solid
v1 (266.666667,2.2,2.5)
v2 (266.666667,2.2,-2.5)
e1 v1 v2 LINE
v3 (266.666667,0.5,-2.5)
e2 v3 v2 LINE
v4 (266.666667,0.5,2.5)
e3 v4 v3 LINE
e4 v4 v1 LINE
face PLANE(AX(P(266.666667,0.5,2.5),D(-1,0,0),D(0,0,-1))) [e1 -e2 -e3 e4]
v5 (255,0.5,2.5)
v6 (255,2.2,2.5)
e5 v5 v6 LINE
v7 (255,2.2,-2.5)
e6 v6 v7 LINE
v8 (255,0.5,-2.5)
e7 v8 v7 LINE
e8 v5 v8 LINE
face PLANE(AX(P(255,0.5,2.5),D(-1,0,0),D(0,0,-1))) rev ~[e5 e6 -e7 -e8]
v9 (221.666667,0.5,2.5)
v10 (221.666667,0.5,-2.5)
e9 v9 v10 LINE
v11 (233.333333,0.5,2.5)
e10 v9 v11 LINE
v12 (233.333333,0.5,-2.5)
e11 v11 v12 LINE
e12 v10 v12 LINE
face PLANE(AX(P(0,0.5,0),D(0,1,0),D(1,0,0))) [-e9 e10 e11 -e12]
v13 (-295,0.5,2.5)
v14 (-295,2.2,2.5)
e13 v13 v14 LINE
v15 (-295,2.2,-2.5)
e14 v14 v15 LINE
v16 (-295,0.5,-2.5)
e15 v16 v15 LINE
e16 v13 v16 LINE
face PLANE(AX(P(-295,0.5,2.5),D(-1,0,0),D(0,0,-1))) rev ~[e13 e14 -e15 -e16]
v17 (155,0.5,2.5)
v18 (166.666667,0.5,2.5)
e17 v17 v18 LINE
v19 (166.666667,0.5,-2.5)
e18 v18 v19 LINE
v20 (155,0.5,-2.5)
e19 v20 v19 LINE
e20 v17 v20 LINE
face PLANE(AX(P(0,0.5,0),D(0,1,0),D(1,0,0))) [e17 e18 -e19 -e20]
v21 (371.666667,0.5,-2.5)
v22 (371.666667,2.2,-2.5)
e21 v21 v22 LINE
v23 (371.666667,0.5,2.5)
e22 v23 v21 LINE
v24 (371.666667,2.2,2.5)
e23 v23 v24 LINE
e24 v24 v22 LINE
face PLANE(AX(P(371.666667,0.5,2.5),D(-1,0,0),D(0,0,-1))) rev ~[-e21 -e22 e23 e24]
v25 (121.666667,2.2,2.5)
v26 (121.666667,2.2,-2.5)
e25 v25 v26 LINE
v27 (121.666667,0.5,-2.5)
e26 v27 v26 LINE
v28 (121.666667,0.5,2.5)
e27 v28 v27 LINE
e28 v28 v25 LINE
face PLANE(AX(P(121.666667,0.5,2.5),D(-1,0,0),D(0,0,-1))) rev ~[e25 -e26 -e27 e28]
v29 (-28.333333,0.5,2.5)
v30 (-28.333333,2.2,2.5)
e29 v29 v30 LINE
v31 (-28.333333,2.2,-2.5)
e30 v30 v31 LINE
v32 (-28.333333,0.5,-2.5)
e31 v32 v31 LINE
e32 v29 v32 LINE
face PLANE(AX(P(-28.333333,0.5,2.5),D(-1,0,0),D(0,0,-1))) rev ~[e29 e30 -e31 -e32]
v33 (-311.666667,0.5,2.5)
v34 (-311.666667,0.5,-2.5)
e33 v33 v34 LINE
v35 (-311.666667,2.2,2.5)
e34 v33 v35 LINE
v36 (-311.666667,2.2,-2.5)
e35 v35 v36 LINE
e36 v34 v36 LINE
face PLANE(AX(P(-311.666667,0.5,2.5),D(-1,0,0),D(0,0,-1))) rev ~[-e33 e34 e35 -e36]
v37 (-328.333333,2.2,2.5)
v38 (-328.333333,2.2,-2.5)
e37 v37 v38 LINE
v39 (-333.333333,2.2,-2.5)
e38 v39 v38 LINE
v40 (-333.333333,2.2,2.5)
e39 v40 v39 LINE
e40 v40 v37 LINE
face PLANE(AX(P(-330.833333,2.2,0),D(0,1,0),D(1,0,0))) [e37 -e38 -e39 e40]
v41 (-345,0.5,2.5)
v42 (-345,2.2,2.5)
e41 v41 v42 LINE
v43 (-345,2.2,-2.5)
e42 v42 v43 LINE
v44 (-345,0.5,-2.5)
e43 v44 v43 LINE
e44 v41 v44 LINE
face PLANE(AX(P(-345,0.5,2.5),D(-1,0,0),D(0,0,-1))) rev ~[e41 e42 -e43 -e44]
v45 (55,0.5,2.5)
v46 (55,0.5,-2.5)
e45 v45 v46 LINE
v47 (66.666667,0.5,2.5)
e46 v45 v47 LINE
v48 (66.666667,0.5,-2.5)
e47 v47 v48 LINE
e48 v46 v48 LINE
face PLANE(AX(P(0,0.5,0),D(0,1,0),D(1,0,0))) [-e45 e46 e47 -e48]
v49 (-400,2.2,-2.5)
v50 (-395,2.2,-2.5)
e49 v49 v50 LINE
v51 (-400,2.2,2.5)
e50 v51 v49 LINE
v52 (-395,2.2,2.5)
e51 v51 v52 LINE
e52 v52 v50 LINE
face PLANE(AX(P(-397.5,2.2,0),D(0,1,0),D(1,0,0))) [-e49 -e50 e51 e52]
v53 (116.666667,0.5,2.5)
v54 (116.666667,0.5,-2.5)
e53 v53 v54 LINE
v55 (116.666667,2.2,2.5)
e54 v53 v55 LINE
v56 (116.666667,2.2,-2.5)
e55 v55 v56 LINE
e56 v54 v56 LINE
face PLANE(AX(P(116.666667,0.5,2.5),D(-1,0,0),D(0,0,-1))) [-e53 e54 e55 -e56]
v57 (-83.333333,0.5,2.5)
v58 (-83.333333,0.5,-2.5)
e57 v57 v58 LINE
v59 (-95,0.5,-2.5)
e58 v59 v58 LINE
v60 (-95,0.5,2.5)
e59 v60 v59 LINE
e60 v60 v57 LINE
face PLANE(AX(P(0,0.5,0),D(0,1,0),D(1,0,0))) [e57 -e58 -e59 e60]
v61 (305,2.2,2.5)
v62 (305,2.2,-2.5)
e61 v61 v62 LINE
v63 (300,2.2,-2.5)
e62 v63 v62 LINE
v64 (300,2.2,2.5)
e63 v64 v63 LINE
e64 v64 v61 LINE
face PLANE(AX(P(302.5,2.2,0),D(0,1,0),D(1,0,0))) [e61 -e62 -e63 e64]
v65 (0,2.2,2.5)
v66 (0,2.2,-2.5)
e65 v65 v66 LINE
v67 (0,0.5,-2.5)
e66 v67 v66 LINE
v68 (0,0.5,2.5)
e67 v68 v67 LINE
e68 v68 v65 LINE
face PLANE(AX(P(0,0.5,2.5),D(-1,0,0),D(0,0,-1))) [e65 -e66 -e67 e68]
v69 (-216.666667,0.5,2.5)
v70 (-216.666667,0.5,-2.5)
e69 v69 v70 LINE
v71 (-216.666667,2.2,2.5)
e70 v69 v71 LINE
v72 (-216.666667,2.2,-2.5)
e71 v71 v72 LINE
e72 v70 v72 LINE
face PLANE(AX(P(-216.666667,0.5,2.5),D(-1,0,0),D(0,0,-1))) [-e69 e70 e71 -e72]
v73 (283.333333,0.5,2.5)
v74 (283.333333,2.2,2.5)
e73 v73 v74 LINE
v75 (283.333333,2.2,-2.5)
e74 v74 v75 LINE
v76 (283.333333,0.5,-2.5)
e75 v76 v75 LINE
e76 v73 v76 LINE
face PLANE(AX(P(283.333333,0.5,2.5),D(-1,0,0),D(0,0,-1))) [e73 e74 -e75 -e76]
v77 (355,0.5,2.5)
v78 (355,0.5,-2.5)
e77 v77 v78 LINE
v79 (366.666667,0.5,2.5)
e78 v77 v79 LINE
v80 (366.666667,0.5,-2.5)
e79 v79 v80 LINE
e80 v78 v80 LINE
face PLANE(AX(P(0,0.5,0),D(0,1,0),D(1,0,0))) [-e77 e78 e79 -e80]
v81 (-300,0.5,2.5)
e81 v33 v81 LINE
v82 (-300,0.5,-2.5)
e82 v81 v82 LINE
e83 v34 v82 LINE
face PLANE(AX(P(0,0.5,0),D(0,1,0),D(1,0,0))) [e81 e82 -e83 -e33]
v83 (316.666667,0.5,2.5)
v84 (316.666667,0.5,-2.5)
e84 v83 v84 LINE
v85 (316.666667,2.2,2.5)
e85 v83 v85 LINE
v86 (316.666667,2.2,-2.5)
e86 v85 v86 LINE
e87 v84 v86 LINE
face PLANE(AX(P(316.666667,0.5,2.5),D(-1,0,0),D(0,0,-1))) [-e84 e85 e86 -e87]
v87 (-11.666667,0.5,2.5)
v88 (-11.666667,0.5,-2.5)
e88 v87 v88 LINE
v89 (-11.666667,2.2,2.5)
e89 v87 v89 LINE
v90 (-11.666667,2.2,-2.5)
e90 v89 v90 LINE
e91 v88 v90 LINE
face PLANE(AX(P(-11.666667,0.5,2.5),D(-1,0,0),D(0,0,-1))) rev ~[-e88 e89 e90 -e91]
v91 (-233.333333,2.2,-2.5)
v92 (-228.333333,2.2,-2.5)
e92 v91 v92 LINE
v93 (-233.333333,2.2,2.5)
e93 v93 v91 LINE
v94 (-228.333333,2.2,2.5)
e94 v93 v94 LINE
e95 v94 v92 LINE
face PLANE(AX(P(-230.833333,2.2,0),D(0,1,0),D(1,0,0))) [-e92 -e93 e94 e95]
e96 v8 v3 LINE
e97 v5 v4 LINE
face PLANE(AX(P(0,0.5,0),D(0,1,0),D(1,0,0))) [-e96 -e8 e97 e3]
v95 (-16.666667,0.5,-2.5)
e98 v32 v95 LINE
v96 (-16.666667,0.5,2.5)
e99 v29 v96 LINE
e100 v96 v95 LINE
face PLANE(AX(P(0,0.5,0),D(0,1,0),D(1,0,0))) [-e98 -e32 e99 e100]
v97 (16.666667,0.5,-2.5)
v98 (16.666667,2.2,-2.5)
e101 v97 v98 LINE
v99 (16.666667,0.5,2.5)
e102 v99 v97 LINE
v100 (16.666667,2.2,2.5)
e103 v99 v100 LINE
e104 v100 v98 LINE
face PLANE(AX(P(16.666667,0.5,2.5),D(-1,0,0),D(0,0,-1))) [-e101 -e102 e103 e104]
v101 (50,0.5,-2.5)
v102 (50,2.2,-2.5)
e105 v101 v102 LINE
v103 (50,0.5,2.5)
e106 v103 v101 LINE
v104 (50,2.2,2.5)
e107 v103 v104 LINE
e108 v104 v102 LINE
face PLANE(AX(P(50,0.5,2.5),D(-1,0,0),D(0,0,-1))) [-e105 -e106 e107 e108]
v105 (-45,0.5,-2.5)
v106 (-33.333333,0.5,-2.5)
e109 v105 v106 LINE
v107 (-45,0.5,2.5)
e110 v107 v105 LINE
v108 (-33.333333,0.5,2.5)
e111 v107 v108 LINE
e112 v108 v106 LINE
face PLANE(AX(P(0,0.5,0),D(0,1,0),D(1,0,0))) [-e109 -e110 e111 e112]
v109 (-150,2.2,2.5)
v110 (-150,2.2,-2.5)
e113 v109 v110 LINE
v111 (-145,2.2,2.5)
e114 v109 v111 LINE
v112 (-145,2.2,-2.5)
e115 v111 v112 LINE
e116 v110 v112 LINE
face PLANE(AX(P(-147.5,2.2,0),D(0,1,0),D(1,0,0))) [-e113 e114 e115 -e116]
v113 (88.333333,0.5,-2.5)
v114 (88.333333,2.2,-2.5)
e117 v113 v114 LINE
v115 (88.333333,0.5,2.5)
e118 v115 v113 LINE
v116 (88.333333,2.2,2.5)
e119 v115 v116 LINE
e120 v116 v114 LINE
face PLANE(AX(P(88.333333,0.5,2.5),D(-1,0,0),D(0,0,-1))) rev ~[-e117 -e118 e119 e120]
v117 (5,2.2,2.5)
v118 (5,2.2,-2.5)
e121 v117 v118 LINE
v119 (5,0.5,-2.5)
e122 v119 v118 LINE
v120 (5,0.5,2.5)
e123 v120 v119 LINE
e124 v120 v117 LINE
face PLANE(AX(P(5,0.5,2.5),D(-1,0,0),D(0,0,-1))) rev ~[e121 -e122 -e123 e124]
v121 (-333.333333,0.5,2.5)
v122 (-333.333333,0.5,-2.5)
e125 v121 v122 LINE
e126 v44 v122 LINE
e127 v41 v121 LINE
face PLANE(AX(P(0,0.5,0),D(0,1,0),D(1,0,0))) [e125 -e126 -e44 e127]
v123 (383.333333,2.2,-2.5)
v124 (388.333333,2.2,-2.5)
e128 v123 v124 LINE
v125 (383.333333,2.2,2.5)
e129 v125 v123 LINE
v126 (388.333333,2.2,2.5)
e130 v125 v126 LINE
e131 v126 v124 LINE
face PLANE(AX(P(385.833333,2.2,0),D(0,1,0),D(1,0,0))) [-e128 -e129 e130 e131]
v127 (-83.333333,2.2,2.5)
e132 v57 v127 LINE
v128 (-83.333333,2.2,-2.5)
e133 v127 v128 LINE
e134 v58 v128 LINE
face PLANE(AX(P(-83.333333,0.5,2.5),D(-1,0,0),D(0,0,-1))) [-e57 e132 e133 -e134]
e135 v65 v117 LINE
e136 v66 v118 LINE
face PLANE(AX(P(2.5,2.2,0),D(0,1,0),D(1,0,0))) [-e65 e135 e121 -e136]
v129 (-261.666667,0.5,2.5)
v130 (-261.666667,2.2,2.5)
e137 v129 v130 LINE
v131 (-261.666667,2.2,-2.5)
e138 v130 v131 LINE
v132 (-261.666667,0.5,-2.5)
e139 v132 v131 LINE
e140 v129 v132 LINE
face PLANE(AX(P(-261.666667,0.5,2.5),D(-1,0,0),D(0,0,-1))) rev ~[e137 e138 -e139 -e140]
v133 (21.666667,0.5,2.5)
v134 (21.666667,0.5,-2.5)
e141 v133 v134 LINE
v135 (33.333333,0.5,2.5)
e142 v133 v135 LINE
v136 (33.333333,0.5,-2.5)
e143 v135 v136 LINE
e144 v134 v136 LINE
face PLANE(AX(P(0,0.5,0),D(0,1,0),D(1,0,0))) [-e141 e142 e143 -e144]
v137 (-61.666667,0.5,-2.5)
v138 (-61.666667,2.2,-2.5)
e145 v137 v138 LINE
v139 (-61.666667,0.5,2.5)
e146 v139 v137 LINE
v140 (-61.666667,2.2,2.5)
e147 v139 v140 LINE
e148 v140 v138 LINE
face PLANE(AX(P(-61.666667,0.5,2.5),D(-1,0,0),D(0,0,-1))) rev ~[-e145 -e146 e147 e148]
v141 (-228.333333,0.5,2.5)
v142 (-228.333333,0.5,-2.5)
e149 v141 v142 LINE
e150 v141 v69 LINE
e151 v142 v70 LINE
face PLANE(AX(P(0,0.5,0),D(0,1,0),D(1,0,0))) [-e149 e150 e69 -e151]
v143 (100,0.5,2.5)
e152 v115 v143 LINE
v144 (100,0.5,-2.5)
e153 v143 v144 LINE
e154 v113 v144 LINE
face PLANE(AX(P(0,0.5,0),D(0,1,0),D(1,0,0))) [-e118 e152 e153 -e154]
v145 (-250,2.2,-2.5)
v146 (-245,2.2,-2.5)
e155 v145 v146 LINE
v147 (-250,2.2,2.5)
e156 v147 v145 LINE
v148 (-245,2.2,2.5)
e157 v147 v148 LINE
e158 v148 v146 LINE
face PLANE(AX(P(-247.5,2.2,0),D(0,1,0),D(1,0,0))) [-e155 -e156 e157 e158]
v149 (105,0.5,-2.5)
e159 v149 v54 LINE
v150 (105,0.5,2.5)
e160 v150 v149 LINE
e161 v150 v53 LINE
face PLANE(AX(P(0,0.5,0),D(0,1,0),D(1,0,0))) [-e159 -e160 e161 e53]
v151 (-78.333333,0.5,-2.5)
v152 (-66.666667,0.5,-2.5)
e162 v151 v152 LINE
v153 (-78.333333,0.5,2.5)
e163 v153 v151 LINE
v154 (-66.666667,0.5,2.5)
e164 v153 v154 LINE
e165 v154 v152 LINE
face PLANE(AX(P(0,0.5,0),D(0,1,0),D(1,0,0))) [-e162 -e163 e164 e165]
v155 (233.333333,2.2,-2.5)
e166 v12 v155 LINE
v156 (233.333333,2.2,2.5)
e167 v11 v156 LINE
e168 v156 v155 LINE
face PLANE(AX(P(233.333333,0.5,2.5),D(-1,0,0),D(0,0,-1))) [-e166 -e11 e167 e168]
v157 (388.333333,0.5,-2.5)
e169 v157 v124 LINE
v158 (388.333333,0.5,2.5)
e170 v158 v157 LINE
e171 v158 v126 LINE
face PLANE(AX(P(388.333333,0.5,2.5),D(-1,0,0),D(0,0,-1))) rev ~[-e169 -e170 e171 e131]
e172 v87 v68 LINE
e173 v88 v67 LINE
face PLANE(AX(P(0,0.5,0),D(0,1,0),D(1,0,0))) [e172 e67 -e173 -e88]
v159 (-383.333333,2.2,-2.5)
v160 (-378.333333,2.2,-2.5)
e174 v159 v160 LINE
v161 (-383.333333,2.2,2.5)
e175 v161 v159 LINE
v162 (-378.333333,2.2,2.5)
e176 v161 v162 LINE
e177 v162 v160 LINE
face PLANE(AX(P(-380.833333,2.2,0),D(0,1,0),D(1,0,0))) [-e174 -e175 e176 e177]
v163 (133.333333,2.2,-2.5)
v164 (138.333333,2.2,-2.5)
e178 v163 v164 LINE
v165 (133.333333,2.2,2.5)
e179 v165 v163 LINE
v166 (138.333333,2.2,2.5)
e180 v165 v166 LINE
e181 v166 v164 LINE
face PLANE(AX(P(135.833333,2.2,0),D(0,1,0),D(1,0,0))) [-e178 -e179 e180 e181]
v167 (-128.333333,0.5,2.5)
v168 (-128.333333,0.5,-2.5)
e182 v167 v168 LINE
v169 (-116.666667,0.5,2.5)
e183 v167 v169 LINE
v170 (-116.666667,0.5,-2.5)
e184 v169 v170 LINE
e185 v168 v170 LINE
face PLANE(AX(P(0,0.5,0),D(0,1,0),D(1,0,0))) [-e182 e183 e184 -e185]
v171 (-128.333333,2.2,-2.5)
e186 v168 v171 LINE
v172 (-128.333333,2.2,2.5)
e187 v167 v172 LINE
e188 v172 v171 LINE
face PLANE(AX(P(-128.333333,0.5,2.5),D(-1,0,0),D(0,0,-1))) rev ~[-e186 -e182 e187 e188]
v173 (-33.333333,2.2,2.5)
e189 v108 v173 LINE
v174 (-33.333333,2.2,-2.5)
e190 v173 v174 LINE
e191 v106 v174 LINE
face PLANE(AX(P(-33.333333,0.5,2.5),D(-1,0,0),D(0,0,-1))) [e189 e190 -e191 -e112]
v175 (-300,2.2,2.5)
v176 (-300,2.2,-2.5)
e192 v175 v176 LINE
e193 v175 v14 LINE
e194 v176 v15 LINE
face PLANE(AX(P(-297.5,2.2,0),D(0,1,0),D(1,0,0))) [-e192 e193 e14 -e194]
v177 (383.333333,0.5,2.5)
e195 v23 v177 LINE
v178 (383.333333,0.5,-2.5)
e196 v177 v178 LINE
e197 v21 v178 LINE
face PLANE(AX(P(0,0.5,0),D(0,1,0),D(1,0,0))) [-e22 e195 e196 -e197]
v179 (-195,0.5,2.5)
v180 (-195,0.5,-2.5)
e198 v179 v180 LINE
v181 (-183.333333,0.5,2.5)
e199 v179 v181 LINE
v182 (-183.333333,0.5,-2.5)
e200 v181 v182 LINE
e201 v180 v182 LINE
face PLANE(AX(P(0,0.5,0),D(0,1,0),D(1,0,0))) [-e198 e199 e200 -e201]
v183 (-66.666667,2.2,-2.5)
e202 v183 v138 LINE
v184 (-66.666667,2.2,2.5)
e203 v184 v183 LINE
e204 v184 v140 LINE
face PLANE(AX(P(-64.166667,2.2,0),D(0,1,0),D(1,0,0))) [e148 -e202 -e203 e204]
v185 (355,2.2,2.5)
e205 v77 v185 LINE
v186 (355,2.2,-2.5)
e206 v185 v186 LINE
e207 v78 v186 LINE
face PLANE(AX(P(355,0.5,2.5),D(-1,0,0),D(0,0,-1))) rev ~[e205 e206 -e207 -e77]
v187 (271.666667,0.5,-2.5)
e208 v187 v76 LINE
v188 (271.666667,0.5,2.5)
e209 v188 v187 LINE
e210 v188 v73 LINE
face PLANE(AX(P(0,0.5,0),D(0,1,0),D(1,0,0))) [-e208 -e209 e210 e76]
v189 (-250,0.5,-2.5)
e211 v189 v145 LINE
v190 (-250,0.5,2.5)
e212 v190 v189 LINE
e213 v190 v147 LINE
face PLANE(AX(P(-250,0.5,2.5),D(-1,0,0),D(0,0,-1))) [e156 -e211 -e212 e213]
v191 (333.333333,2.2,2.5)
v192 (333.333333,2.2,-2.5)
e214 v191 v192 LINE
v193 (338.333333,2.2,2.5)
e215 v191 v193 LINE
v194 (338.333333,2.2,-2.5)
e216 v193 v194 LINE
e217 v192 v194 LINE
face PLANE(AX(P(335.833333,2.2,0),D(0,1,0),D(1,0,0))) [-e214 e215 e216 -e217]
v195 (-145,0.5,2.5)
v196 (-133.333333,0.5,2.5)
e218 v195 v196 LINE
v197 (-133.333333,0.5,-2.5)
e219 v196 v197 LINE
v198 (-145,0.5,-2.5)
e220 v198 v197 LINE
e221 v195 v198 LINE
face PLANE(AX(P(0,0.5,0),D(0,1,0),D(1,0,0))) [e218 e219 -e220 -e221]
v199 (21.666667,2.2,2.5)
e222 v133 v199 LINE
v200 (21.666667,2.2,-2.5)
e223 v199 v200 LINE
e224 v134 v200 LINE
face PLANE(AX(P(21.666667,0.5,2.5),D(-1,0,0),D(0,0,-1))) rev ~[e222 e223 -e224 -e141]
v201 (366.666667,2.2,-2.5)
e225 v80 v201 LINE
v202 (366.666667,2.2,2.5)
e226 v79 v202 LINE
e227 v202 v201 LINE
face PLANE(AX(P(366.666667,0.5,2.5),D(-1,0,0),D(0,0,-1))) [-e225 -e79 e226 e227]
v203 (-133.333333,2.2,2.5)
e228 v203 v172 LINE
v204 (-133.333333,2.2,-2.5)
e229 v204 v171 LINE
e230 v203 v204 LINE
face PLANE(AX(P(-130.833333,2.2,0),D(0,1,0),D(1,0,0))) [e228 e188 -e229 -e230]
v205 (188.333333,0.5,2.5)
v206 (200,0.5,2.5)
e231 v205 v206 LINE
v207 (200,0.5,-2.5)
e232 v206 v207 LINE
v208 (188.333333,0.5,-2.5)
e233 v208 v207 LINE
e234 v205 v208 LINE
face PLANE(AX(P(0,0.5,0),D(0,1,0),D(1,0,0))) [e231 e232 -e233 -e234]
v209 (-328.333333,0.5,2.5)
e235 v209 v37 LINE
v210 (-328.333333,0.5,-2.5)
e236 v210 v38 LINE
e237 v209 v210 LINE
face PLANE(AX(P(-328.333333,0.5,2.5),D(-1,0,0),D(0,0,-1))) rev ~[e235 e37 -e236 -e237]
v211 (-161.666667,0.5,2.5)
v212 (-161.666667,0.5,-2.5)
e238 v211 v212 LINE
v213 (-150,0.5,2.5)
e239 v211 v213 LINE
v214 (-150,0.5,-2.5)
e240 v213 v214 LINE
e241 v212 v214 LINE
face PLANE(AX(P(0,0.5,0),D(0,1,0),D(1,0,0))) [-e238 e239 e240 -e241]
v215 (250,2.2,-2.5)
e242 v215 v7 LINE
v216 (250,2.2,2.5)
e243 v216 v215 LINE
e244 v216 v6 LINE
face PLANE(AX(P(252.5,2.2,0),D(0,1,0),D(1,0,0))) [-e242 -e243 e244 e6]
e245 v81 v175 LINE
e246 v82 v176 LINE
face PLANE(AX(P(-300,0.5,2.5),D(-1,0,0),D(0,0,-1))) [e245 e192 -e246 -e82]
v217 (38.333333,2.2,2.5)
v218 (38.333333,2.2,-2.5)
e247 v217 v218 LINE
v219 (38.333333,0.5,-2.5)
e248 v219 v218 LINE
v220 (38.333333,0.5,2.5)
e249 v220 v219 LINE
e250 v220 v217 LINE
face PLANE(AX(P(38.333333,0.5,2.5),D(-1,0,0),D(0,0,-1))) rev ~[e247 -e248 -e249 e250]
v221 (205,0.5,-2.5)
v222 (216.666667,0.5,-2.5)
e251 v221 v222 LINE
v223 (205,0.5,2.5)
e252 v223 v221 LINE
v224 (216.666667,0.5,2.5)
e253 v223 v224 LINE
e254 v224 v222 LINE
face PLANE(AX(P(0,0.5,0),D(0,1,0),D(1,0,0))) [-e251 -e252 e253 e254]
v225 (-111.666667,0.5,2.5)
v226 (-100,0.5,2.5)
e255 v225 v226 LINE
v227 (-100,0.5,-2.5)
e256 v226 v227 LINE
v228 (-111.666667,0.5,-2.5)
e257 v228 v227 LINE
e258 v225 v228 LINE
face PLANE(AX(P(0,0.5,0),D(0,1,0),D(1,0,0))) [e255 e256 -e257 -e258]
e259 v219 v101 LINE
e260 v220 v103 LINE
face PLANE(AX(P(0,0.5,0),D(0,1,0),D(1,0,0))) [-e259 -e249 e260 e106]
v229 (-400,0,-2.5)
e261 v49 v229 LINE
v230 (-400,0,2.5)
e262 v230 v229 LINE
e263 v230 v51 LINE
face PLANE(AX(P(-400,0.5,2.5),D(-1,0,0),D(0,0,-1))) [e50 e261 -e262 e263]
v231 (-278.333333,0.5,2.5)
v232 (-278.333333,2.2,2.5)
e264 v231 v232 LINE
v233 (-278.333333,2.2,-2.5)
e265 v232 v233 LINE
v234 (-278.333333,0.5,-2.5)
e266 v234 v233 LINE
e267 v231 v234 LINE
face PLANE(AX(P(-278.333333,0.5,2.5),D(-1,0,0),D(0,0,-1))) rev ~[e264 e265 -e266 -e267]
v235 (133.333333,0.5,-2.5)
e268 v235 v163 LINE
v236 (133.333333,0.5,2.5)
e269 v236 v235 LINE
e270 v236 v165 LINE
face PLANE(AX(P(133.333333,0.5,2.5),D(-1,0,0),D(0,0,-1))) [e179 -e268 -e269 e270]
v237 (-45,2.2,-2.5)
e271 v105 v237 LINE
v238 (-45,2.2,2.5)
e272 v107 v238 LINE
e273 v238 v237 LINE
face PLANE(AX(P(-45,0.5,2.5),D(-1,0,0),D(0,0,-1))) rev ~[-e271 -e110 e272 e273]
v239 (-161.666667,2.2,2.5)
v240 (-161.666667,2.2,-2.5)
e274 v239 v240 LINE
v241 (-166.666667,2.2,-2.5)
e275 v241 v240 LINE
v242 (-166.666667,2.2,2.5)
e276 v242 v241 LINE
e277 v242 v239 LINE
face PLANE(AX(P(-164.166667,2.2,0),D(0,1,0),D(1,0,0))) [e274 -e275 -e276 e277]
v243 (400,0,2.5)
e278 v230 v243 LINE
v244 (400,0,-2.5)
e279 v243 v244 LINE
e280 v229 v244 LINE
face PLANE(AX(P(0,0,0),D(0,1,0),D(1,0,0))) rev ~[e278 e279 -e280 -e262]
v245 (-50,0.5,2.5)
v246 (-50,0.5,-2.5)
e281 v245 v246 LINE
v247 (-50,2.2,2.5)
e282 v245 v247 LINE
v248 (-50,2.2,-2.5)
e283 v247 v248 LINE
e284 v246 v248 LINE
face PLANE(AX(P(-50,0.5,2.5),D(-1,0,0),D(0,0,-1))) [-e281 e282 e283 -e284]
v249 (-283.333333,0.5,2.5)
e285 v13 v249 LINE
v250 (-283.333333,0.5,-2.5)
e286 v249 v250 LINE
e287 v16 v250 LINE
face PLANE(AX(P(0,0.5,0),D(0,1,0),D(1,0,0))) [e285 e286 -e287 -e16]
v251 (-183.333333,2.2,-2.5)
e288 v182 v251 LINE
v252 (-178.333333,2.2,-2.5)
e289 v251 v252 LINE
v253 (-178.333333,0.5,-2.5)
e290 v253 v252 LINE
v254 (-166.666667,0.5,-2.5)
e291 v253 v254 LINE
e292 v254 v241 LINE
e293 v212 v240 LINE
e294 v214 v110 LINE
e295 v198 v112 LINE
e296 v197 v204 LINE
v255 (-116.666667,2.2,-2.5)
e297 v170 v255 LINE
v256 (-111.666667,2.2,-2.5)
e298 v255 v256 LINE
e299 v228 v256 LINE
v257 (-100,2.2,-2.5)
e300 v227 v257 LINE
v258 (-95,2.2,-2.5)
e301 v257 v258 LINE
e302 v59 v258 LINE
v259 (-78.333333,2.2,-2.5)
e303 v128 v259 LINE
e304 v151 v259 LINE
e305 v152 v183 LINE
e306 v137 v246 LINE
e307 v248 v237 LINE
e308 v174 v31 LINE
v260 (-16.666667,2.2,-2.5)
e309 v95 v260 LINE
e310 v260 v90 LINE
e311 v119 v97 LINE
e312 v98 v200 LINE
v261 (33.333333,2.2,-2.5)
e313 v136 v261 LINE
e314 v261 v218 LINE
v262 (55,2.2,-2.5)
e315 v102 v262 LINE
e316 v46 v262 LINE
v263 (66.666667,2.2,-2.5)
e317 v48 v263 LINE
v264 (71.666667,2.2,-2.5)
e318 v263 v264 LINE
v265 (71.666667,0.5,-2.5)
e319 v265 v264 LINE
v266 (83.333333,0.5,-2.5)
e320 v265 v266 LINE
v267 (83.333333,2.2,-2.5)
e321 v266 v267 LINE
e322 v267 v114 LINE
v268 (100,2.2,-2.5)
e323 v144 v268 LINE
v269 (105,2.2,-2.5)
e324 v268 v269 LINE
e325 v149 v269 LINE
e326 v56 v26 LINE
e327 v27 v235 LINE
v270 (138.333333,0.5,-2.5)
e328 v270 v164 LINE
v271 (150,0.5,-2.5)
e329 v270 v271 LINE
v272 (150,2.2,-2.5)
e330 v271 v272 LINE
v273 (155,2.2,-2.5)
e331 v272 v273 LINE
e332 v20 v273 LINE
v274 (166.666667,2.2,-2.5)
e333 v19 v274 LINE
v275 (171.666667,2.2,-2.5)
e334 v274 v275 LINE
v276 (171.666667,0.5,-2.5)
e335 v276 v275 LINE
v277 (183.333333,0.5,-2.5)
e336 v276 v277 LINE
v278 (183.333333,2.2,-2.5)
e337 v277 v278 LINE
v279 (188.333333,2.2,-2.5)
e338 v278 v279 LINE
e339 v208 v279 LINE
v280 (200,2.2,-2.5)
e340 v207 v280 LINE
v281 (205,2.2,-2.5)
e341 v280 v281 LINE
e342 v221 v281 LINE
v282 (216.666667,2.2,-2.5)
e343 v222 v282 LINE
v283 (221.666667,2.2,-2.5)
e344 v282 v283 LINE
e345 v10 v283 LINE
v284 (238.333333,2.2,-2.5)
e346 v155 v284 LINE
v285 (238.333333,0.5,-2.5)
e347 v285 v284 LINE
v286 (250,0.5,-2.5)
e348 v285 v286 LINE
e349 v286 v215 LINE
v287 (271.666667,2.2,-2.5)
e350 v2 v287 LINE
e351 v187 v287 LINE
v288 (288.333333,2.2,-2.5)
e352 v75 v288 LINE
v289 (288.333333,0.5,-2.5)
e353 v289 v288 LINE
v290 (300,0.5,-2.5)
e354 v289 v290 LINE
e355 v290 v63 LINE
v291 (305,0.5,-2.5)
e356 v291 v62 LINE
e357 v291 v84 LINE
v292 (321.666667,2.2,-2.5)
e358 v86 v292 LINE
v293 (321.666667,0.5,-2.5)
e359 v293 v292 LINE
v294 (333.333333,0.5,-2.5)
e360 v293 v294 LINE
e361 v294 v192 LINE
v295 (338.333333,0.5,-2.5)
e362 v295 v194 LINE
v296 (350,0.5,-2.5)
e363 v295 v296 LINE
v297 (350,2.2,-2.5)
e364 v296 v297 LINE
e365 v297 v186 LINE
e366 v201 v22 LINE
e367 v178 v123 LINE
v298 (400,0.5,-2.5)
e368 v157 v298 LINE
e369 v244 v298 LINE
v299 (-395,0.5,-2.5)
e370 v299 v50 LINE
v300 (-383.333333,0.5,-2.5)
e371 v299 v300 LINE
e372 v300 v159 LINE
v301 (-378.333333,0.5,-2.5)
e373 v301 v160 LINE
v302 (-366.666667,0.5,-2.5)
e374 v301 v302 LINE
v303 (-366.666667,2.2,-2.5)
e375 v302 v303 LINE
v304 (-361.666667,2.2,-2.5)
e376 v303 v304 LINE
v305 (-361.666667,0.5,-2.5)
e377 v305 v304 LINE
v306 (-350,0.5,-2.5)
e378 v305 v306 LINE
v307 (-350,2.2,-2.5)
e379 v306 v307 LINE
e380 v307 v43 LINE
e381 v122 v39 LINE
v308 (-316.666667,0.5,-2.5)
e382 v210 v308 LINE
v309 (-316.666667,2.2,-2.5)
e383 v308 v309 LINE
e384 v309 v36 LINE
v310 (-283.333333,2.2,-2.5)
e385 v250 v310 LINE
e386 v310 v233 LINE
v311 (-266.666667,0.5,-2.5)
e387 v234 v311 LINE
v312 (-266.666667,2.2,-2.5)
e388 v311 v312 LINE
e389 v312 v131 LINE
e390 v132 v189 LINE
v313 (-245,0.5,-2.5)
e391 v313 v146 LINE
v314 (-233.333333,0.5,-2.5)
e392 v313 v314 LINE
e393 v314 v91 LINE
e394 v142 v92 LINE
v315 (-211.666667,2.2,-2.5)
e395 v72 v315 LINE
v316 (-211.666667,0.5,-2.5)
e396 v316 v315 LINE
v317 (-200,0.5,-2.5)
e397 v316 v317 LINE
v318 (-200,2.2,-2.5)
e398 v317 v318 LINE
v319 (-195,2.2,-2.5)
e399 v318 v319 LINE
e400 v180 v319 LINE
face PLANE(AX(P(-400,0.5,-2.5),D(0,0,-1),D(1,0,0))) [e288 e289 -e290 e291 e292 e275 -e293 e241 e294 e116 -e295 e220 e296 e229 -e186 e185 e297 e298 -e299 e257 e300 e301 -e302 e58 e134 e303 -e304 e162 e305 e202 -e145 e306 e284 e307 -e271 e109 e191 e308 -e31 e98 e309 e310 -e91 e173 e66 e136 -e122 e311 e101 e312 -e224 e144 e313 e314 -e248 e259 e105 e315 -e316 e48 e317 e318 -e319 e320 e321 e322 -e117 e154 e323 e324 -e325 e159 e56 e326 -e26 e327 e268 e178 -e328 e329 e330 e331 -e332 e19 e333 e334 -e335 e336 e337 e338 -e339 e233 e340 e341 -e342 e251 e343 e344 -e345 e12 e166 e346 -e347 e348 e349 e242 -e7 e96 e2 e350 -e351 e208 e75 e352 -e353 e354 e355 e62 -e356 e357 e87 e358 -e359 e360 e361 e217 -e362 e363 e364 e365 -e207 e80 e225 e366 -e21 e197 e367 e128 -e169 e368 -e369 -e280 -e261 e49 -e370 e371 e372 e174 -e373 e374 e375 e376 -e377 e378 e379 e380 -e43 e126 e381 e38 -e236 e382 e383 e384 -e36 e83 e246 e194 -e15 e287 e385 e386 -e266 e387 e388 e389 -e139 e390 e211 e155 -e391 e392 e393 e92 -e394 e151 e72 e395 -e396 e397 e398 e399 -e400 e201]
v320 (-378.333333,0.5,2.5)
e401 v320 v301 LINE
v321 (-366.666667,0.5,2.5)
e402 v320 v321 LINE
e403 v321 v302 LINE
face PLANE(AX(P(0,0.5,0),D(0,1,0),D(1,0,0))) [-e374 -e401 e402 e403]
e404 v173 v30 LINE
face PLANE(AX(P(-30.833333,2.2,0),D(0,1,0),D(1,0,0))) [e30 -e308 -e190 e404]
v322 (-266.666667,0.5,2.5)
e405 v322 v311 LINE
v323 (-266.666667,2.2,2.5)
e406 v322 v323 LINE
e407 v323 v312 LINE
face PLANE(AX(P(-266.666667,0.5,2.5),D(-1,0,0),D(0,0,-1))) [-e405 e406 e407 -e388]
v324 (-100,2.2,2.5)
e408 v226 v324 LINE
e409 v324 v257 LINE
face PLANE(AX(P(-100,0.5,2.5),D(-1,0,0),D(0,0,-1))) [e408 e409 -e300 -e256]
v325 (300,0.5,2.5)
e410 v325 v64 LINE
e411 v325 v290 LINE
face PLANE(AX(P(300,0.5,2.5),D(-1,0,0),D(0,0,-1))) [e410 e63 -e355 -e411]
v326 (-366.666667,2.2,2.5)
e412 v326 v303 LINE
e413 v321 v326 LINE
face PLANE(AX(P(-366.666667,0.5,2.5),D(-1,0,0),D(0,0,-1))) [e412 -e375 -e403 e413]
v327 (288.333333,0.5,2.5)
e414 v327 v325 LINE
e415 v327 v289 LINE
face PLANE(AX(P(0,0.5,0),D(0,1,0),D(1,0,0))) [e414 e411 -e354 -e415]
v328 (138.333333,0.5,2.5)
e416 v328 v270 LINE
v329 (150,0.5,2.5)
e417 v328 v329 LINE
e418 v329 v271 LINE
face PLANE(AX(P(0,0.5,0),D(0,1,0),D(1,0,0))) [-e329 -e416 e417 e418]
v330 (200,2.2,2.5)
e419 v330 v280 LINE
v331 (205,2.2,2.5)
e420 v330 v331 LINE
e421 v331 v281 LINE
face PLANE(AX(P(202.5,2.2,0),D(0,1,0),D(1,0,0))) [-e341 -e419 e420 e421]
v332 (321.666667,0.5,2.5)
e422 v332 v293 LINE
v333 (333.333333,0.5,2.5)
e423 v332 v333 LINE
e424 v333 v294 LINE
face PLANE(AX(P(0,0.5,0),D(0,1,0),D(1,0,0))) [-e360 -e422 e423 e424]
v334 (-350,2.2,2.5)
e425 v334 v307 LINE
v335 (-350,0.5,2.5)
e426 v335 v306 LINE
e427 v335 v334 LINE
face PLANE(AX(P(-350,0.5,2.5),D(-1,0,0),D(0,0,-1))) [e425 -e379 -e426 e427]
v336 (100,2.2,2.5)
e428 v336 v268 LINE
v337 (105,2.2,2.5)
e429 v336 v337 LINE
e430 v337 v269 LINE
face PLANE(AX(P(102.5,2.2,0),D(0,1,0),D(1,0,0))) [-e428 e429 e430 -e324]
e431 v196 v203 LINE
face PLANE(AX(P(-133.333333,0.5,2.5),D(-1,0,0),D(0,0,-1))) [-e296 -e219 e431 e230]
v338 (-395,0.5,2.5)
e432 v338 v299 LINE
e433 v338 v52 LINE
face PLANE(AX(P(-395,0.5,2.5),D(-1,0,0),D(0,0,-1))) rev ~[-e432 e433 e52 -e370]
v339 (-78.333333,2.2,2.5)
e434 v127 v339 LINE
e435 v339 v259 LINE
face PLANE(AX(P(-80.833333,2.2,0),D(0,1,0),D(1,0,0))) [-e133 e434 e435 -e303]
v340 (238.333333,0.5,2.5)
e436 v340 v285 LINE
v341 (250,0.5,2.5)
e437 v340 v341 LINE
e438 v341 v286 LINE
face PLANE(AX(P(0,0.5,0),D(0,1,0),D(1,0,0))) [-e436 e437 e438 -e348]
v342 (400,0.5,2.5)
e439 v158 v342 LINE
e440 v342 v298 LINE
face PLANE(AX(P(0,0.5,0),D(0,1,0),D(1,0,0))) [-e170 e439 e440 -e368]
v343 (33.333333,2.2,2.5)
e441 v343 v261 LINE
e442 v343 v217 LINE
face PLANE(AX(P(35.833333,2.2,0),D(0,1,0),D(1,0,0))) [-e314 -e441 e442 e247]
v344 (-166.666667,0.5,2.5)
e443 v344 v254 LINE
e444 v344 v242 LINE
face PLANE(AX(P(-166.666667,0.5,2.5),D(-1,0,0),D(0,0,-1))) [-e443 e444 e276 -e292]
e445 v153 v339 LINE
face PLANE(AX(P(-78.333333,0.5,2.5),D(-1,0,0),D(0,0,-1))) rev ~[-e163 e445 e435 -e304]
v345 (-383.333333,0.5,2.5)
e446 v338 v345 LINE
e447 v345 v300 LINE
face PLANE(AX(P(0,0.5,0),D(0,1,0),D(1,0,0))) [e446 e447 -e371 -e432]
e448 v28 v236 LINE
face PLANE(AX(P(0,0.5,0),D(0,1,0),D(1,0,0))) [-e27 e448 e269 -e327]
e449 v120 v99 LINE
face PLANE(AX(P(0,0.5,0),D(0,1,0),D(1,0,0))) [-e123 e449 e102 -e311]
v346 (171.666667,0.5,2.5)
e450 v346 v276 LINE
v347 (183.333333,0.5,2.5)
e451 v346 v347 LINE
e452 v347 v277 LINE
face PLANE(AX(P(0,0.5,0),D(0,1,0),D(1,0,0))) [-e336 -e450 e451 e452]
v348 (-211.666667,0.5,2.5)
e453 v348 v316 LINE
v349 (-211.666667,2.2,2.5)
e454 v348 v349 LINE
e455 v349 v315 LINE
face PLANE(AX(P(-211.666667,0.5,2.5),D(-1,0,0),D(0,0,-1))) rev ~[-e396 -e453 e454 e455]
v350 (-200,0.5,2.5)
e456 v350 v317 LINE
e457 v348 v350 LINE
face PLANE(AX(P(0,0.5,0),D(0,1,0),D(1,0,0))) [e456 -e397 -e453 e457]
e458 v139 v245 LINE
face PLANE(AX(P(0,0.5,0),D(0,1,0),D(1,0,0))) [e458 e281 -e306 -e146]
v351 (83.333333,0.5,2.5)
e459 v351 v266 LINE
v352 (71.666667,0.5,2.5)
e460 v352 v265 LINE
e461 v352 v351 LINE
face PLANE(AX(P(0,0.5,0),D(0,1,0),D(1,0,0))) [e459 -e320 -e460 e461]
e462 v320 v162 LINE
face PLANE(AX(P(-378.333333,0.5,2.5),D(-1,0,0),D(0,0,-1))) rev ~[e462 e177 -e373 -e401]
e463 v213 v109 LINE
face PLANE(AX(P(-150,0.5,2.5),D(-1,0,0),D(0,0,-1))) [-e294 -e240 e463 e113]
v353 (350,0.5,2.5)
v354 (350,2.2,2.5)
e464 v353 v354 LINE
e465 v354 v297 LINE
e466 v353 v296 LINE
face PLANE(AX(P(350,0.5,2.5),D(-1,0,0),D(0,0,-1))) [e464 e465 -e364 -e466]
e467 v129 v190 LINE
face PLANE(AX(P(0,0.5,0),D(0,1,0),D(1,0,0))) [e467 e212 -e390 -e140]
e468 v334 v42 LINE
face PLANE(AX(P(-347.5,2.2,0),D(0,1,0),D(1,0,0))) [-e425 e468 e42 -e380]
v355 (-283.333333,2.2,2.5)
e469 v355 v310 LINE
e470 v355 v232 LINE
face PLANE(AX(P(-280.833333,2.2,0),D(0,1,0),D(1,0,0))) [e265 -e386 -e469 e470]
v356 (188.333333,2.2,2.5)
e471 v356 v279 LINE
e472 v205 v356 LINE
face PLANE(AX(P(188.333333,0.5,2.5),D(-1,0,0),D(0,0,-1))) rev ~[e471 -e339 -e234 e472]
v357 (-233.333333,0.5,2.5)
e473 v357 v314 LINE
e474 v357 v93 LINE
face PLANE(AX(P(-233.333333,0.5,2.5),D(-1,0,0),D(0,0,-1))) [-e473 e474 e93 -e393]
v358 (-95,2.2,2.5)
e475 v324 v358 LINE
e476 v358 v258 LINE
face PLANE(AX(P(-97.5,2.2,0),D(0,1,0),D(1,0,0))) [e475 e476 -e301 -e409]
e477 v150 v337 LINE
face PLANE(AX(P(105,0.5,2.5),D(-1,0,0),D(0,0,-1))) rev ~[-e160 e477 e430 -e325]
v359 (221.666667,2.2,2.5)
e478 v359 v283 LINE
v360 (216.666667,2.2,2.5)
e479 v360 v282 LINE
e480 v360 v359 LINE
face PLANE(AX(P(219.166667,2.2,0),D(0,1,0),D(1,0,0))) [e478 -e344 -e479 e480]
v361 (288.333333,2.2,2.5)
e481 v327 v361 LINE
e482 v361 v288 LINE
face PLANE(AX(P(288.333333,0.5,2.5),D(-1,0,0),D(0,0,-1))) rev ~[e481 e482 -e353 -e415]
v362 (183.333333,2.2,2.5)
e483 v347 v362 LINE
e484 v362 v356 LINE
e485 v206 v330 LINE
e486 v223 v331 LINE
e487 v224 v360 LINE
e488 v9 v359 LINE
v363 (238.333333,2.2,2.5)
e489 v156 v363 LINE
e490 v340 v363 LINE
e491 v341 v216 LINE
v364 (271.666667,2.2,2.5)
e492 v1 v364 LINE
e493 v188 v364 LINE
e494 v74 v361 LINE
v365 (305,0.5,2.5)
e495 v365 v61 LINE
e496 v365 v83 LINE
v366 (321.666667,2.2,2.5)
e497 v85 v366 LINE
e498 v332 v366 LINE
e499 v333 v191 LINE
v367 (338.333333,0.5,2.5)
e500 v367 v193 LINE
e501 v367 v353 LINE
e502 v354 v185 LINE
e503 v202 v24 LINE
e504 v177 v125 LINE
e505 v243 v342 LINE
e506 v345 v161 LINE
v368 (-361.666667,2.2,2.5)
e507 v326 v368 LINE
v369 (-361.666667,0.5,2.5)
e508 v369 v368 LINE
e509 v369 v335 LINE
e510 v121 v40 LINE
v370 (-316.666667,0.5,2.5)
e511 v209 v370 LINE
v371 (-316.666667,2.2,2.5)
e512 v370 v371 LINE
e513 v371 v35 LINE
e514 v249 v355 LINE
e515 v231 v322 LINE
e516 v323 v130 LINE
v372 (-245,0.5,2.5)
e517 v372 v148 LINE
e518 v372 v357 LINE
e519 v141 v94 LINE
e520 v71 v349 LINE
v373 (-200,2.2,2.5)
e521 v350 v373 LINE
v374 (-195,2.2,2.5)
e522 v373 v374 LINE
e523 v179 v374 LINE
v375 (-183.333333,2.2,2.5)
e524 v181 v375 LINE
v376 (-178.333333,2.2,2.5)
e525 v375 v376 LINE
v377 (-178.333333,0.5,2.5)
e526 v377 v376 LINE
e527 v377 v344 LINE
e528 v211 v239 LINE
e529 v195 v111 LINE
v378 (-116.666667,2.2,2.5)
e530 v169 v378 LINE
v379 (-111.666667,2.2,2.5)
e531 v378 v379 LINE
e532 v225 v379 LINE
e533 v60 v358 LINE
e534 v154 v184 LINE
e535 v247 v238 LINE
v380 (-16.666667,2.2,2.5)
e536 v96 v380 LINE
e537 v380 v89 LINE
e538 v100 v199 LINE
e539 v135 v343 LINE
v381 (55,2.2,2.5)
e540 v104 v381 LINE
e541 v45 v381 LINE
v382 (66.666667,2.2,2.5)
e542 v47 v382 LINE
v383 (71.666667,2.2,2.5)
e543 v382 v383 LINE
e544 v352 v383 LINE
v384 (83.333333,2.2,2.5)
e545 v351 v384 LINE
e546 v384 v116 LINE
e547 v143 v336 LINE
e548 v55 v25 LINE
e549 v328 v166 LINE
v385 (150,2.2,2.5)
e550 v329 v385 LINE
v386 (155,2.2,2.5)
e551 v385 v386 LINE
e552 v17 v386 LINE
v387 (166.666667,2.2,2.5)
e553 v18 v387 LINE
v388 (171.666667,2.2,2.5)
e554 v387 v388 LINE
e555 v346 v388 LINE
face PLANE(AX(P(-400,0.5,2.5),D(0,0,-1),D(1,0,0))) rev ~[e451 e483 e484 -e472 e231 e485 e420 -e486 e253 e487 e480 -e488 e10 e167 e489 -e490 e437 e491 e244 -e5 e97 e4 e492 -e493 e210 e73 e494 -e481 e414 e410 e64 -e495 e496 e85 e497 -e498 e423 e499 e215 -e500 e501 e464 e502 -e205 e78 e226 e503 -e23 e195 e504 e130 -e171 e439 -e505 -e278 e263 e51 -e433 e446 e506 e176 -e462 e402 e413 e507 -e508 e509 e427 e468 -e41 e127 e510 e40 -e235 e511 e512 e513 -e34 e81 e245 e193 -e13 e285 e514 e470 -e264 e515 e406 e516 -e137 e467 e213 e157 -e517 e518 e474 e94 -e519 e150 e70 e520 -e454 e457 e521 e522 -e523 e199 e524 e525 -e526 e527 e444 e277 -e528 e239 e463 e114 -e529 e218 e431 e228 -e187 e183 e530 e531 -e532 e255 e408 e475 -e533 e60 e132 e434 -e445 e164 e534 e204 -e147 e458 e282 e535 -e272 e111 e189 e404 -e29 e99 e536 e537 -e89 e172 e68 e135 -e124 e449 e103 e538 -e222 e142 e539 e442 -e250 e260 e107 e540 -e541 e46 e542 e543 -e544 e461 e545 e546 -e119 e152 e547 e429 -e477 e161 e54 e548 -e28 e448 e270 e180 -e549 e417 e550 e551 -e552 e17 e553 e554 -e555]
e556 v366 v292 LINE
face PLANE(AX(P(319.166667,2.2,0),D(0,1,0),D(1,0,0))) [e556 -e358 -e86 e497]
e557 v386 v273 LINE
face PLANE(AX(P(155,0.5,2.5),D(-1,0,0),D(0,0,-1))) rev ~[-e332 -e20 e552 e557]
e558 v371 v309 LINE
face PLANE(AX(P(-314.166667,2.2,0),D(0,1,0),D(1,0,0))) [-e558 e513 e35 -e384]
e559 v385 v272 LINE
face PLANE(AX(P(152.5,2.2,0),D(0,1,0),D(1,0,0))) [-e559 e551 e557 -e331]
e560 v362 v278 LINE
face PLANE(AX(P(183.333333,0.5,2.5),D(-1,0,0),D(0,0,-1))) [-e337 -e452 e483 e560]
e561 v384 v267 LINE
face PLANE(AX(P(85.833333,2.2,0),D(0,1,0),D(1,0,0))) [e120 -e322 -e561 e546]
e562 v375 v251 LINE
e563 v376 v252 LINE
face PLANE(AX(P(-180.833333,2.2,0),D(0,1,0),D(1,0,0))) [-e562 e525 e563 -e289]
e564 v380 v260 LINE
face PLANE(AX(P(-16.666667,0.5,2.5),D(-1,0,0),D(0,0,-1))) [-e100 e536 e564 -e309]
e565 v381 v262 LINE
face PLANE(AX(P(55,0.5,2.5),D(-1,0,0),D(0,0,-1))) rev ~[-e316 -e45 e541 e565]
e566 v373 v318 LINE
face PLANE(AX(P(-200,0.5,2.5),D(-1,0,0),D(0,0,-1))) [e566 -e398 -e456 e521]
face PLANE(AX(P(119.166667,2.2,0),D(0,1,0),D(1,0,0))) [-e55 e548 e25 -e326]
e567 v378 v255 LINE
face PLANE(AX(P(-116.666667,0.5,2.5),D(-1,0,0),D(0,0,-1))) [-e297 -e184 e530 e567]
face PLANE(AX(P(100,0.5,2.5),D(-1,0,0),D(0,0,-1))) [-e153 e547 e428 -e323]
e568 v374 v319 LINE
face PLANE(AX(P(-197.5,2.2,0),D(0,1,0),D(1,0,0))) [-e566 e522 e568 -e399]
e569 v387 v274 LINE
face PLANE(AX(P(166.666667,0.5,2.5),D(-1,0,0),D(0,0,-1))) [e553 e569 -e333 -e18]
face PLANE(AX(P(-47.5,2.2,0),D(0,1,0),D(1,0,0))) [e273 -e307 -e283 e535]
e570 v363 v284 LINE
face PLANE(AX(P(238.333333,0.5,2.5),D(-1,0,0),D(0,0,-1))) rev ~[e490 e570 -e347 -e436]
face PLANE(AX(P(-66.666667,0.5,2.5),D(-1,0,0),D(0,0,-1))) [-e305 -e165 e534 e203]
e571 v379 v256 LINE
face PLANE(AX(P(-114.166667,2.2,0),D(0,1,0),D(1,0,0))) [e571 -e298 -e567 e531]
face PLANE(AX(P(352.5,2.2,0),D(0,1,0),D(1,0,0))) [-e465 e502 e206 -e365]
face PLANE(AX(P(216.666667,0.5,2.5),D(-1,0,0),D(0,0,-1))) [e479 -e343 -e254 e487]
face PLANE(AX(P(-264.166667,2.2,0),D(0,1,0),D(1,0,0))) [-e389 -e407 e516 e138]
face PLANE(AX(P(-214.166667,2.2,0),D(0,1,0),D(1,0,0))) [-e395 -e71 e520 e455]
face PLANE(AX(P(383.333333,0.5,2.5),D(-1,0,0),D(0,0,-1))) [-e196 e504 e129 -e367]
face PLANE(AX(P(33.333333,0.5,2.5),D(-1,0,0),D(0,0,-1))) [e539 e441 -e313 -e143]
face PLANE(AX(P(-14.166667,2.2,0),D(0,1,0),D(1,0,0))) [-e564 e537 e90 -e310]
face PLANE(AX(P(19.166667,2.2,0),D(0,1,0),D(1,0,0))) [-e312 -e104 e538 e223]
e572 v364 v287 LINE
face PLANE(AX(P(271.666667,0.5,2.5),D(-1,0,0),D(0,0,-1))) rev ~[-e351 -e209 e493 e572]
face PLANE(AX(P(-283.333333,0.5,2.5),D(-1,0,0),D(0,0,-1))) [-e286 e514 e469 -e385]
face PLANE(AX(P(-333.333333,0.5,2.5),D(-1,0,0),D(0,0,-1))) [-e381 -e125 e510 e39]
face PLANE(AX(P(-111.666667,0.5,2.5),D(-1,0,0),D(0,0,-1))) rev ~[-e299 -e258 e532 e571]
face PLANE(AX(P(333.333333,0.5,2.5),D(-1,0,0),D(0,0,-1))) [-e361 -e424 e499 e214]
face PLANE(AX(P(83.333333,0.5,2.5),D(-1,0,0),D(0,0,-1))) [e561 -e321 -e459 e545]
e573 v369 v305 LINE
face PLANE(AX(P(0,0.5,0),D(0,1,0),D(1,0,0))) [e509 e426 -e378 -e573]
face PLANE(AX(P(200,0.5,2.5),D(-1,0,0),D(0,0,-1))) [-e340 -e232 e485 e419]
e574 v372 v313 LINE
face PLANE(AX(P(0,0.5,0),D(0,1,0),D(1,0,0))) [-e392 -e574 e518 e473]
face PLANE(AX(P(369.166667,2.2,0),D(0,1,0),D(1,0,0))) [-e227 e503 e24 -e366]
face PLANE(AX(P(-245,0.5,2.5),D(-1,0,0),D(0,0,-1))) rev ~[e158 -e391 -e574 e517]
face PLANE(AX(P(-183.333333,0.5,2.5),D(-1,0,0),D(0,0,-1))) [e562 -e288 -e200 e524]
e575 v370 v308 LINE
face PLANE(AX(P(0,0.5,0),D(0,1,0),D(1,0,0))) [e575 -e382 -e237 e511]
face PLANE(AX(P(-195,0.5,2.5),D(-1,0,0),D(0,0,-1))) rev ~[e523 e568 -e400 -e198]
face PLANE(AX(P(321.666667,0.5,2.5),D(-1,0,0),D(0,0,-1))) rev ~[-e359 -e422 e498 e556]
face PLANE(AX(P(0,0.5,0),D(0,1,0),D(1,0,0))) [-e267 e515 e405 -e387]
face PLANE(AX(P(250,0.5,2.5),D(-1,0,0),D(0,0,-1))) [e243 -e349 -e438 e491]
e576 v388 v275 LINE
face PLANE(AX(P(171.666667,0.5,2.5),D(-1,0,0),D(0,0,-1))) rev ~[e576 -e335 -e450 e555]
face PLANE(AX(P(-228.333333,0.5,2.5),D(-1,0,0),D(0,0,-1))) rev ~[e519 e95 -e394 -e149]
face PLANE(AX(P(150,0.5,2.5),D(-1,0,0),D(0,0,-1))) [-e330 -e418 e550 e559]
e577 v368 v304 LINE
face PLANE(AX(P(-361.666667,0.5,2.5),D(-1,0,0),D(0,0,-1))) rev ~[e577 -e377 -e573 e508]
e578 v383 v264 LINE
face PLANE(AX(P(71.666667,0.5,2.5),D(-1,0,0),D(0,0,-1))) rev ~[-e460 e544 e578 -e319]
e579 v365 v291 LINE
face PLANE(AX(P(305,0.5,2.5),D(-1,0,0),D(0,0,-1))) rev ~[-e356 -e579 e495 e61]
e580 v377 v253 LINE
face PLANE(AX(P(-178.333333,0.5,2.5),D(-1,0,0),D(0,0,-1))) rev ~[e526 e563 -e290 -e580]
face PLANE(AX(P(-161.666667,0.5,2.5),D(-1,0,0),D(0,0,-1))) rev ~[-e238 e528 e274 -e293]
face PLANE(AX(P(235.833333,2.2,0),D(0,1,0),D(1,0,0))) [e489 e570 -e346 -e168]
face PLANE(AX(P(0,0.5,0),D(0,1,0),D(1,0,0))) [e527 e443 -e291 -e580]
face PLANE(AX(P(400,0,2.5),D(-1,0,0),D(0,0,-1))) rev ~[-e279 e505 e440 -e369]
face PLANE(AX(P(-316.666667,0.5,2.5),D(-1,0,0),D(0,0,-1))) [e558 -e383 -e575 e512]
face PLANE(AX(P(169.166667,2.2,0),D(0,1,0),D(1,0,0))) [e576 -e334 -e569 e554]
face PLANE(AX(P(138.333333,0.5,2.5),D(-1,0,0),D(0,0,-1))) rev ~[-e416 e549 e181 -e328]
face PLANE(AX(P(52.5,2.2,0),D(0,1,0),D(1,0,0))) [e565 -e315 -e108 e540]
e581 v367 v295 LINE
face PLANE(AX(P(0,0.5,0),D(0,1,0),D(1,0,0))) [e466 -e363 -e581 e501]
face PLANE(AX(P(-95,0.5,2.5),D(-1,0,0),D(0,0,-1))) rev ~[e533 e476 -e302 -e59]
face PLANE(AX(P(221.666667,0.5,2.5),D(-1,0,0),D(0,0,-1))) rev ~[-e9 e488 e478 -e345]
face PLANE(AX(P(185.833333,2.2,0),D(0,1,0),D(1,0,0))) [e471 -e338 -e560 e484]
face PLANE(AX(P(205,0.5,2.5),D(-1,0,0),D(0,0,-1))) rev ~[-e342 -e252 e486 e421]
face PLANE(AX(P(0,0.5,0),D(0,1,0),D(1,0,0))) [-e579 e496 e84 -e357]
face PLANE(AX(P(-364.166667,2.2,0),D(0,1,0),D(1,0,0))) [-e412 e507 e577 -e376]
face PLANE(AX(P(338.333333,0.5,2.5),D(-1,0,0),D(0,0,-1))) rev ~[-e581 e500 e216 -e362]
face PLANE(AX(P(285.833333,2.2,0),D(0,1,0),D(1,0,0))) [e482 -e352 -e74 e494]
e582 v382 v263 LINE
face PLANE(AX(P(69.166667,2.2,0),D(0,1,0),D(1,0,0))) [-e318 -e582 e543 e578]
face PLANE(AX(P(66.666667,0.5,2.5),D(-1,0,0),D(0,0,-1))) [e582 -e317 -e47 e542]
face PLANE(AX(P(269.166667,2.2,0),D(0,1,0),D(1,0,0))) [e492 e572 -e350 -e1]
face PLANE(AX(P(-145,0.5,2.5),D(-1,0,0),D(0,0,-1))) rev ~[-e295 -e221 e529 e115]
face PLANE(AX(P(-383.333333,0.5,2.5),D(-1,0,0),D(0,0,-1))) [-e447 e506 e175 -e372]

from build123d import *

# Parameters (mm, degrees)
SKETCH_1_W             = 800
SKETCH_1_H             = 5
EXTRUDE_1_DEPTH        = 0.5
SKETCH_2_W             = 5
SKETCH_2_H             = 5
EXTRUDE_2_DEPTH        = 1.7
PATTERN_LINEAR_1_COUNT = 48
PATTERN_LINEAR_1_PITCH = 16.666666667


with BuildPart() as part:
    # 草图1 → 凸台-拉伸1 (new body)
    with BuildSketch(Plane(origin=(0, 0, 0), x_dir=(1, 0, 0), z_dir=(0, 1, 0))):
        Rectangle(SKETCH_1_W, SKETCH_1_H)
    extrude(amount=EXTRUDE_1_DEPTH)

    # 草图2 → 凸台-拉伸2 (add)
    with BuildSketch(Plane(origin=(0, 0.5, 0), x_dir=(1, 0, 0), z_dir=(0, 1, 0))):
        with Locations((-397.5, 0)):
            Rectangle(SKETCH_2_W, SKETCH_2_H)
    extrude_2 = extrude(amount=EXTRUDE_2_DEPTH)

    # 阵列(线性)1: 凸台-拉伸2 ×48
    with Locations(*[(i * PATTERN_LINEAR_1_PITCH, 0, 0) for i in range(1, PATTERN_LINEAR_1_COUNT)]):
        add(extrude_2)


solid = part.part
